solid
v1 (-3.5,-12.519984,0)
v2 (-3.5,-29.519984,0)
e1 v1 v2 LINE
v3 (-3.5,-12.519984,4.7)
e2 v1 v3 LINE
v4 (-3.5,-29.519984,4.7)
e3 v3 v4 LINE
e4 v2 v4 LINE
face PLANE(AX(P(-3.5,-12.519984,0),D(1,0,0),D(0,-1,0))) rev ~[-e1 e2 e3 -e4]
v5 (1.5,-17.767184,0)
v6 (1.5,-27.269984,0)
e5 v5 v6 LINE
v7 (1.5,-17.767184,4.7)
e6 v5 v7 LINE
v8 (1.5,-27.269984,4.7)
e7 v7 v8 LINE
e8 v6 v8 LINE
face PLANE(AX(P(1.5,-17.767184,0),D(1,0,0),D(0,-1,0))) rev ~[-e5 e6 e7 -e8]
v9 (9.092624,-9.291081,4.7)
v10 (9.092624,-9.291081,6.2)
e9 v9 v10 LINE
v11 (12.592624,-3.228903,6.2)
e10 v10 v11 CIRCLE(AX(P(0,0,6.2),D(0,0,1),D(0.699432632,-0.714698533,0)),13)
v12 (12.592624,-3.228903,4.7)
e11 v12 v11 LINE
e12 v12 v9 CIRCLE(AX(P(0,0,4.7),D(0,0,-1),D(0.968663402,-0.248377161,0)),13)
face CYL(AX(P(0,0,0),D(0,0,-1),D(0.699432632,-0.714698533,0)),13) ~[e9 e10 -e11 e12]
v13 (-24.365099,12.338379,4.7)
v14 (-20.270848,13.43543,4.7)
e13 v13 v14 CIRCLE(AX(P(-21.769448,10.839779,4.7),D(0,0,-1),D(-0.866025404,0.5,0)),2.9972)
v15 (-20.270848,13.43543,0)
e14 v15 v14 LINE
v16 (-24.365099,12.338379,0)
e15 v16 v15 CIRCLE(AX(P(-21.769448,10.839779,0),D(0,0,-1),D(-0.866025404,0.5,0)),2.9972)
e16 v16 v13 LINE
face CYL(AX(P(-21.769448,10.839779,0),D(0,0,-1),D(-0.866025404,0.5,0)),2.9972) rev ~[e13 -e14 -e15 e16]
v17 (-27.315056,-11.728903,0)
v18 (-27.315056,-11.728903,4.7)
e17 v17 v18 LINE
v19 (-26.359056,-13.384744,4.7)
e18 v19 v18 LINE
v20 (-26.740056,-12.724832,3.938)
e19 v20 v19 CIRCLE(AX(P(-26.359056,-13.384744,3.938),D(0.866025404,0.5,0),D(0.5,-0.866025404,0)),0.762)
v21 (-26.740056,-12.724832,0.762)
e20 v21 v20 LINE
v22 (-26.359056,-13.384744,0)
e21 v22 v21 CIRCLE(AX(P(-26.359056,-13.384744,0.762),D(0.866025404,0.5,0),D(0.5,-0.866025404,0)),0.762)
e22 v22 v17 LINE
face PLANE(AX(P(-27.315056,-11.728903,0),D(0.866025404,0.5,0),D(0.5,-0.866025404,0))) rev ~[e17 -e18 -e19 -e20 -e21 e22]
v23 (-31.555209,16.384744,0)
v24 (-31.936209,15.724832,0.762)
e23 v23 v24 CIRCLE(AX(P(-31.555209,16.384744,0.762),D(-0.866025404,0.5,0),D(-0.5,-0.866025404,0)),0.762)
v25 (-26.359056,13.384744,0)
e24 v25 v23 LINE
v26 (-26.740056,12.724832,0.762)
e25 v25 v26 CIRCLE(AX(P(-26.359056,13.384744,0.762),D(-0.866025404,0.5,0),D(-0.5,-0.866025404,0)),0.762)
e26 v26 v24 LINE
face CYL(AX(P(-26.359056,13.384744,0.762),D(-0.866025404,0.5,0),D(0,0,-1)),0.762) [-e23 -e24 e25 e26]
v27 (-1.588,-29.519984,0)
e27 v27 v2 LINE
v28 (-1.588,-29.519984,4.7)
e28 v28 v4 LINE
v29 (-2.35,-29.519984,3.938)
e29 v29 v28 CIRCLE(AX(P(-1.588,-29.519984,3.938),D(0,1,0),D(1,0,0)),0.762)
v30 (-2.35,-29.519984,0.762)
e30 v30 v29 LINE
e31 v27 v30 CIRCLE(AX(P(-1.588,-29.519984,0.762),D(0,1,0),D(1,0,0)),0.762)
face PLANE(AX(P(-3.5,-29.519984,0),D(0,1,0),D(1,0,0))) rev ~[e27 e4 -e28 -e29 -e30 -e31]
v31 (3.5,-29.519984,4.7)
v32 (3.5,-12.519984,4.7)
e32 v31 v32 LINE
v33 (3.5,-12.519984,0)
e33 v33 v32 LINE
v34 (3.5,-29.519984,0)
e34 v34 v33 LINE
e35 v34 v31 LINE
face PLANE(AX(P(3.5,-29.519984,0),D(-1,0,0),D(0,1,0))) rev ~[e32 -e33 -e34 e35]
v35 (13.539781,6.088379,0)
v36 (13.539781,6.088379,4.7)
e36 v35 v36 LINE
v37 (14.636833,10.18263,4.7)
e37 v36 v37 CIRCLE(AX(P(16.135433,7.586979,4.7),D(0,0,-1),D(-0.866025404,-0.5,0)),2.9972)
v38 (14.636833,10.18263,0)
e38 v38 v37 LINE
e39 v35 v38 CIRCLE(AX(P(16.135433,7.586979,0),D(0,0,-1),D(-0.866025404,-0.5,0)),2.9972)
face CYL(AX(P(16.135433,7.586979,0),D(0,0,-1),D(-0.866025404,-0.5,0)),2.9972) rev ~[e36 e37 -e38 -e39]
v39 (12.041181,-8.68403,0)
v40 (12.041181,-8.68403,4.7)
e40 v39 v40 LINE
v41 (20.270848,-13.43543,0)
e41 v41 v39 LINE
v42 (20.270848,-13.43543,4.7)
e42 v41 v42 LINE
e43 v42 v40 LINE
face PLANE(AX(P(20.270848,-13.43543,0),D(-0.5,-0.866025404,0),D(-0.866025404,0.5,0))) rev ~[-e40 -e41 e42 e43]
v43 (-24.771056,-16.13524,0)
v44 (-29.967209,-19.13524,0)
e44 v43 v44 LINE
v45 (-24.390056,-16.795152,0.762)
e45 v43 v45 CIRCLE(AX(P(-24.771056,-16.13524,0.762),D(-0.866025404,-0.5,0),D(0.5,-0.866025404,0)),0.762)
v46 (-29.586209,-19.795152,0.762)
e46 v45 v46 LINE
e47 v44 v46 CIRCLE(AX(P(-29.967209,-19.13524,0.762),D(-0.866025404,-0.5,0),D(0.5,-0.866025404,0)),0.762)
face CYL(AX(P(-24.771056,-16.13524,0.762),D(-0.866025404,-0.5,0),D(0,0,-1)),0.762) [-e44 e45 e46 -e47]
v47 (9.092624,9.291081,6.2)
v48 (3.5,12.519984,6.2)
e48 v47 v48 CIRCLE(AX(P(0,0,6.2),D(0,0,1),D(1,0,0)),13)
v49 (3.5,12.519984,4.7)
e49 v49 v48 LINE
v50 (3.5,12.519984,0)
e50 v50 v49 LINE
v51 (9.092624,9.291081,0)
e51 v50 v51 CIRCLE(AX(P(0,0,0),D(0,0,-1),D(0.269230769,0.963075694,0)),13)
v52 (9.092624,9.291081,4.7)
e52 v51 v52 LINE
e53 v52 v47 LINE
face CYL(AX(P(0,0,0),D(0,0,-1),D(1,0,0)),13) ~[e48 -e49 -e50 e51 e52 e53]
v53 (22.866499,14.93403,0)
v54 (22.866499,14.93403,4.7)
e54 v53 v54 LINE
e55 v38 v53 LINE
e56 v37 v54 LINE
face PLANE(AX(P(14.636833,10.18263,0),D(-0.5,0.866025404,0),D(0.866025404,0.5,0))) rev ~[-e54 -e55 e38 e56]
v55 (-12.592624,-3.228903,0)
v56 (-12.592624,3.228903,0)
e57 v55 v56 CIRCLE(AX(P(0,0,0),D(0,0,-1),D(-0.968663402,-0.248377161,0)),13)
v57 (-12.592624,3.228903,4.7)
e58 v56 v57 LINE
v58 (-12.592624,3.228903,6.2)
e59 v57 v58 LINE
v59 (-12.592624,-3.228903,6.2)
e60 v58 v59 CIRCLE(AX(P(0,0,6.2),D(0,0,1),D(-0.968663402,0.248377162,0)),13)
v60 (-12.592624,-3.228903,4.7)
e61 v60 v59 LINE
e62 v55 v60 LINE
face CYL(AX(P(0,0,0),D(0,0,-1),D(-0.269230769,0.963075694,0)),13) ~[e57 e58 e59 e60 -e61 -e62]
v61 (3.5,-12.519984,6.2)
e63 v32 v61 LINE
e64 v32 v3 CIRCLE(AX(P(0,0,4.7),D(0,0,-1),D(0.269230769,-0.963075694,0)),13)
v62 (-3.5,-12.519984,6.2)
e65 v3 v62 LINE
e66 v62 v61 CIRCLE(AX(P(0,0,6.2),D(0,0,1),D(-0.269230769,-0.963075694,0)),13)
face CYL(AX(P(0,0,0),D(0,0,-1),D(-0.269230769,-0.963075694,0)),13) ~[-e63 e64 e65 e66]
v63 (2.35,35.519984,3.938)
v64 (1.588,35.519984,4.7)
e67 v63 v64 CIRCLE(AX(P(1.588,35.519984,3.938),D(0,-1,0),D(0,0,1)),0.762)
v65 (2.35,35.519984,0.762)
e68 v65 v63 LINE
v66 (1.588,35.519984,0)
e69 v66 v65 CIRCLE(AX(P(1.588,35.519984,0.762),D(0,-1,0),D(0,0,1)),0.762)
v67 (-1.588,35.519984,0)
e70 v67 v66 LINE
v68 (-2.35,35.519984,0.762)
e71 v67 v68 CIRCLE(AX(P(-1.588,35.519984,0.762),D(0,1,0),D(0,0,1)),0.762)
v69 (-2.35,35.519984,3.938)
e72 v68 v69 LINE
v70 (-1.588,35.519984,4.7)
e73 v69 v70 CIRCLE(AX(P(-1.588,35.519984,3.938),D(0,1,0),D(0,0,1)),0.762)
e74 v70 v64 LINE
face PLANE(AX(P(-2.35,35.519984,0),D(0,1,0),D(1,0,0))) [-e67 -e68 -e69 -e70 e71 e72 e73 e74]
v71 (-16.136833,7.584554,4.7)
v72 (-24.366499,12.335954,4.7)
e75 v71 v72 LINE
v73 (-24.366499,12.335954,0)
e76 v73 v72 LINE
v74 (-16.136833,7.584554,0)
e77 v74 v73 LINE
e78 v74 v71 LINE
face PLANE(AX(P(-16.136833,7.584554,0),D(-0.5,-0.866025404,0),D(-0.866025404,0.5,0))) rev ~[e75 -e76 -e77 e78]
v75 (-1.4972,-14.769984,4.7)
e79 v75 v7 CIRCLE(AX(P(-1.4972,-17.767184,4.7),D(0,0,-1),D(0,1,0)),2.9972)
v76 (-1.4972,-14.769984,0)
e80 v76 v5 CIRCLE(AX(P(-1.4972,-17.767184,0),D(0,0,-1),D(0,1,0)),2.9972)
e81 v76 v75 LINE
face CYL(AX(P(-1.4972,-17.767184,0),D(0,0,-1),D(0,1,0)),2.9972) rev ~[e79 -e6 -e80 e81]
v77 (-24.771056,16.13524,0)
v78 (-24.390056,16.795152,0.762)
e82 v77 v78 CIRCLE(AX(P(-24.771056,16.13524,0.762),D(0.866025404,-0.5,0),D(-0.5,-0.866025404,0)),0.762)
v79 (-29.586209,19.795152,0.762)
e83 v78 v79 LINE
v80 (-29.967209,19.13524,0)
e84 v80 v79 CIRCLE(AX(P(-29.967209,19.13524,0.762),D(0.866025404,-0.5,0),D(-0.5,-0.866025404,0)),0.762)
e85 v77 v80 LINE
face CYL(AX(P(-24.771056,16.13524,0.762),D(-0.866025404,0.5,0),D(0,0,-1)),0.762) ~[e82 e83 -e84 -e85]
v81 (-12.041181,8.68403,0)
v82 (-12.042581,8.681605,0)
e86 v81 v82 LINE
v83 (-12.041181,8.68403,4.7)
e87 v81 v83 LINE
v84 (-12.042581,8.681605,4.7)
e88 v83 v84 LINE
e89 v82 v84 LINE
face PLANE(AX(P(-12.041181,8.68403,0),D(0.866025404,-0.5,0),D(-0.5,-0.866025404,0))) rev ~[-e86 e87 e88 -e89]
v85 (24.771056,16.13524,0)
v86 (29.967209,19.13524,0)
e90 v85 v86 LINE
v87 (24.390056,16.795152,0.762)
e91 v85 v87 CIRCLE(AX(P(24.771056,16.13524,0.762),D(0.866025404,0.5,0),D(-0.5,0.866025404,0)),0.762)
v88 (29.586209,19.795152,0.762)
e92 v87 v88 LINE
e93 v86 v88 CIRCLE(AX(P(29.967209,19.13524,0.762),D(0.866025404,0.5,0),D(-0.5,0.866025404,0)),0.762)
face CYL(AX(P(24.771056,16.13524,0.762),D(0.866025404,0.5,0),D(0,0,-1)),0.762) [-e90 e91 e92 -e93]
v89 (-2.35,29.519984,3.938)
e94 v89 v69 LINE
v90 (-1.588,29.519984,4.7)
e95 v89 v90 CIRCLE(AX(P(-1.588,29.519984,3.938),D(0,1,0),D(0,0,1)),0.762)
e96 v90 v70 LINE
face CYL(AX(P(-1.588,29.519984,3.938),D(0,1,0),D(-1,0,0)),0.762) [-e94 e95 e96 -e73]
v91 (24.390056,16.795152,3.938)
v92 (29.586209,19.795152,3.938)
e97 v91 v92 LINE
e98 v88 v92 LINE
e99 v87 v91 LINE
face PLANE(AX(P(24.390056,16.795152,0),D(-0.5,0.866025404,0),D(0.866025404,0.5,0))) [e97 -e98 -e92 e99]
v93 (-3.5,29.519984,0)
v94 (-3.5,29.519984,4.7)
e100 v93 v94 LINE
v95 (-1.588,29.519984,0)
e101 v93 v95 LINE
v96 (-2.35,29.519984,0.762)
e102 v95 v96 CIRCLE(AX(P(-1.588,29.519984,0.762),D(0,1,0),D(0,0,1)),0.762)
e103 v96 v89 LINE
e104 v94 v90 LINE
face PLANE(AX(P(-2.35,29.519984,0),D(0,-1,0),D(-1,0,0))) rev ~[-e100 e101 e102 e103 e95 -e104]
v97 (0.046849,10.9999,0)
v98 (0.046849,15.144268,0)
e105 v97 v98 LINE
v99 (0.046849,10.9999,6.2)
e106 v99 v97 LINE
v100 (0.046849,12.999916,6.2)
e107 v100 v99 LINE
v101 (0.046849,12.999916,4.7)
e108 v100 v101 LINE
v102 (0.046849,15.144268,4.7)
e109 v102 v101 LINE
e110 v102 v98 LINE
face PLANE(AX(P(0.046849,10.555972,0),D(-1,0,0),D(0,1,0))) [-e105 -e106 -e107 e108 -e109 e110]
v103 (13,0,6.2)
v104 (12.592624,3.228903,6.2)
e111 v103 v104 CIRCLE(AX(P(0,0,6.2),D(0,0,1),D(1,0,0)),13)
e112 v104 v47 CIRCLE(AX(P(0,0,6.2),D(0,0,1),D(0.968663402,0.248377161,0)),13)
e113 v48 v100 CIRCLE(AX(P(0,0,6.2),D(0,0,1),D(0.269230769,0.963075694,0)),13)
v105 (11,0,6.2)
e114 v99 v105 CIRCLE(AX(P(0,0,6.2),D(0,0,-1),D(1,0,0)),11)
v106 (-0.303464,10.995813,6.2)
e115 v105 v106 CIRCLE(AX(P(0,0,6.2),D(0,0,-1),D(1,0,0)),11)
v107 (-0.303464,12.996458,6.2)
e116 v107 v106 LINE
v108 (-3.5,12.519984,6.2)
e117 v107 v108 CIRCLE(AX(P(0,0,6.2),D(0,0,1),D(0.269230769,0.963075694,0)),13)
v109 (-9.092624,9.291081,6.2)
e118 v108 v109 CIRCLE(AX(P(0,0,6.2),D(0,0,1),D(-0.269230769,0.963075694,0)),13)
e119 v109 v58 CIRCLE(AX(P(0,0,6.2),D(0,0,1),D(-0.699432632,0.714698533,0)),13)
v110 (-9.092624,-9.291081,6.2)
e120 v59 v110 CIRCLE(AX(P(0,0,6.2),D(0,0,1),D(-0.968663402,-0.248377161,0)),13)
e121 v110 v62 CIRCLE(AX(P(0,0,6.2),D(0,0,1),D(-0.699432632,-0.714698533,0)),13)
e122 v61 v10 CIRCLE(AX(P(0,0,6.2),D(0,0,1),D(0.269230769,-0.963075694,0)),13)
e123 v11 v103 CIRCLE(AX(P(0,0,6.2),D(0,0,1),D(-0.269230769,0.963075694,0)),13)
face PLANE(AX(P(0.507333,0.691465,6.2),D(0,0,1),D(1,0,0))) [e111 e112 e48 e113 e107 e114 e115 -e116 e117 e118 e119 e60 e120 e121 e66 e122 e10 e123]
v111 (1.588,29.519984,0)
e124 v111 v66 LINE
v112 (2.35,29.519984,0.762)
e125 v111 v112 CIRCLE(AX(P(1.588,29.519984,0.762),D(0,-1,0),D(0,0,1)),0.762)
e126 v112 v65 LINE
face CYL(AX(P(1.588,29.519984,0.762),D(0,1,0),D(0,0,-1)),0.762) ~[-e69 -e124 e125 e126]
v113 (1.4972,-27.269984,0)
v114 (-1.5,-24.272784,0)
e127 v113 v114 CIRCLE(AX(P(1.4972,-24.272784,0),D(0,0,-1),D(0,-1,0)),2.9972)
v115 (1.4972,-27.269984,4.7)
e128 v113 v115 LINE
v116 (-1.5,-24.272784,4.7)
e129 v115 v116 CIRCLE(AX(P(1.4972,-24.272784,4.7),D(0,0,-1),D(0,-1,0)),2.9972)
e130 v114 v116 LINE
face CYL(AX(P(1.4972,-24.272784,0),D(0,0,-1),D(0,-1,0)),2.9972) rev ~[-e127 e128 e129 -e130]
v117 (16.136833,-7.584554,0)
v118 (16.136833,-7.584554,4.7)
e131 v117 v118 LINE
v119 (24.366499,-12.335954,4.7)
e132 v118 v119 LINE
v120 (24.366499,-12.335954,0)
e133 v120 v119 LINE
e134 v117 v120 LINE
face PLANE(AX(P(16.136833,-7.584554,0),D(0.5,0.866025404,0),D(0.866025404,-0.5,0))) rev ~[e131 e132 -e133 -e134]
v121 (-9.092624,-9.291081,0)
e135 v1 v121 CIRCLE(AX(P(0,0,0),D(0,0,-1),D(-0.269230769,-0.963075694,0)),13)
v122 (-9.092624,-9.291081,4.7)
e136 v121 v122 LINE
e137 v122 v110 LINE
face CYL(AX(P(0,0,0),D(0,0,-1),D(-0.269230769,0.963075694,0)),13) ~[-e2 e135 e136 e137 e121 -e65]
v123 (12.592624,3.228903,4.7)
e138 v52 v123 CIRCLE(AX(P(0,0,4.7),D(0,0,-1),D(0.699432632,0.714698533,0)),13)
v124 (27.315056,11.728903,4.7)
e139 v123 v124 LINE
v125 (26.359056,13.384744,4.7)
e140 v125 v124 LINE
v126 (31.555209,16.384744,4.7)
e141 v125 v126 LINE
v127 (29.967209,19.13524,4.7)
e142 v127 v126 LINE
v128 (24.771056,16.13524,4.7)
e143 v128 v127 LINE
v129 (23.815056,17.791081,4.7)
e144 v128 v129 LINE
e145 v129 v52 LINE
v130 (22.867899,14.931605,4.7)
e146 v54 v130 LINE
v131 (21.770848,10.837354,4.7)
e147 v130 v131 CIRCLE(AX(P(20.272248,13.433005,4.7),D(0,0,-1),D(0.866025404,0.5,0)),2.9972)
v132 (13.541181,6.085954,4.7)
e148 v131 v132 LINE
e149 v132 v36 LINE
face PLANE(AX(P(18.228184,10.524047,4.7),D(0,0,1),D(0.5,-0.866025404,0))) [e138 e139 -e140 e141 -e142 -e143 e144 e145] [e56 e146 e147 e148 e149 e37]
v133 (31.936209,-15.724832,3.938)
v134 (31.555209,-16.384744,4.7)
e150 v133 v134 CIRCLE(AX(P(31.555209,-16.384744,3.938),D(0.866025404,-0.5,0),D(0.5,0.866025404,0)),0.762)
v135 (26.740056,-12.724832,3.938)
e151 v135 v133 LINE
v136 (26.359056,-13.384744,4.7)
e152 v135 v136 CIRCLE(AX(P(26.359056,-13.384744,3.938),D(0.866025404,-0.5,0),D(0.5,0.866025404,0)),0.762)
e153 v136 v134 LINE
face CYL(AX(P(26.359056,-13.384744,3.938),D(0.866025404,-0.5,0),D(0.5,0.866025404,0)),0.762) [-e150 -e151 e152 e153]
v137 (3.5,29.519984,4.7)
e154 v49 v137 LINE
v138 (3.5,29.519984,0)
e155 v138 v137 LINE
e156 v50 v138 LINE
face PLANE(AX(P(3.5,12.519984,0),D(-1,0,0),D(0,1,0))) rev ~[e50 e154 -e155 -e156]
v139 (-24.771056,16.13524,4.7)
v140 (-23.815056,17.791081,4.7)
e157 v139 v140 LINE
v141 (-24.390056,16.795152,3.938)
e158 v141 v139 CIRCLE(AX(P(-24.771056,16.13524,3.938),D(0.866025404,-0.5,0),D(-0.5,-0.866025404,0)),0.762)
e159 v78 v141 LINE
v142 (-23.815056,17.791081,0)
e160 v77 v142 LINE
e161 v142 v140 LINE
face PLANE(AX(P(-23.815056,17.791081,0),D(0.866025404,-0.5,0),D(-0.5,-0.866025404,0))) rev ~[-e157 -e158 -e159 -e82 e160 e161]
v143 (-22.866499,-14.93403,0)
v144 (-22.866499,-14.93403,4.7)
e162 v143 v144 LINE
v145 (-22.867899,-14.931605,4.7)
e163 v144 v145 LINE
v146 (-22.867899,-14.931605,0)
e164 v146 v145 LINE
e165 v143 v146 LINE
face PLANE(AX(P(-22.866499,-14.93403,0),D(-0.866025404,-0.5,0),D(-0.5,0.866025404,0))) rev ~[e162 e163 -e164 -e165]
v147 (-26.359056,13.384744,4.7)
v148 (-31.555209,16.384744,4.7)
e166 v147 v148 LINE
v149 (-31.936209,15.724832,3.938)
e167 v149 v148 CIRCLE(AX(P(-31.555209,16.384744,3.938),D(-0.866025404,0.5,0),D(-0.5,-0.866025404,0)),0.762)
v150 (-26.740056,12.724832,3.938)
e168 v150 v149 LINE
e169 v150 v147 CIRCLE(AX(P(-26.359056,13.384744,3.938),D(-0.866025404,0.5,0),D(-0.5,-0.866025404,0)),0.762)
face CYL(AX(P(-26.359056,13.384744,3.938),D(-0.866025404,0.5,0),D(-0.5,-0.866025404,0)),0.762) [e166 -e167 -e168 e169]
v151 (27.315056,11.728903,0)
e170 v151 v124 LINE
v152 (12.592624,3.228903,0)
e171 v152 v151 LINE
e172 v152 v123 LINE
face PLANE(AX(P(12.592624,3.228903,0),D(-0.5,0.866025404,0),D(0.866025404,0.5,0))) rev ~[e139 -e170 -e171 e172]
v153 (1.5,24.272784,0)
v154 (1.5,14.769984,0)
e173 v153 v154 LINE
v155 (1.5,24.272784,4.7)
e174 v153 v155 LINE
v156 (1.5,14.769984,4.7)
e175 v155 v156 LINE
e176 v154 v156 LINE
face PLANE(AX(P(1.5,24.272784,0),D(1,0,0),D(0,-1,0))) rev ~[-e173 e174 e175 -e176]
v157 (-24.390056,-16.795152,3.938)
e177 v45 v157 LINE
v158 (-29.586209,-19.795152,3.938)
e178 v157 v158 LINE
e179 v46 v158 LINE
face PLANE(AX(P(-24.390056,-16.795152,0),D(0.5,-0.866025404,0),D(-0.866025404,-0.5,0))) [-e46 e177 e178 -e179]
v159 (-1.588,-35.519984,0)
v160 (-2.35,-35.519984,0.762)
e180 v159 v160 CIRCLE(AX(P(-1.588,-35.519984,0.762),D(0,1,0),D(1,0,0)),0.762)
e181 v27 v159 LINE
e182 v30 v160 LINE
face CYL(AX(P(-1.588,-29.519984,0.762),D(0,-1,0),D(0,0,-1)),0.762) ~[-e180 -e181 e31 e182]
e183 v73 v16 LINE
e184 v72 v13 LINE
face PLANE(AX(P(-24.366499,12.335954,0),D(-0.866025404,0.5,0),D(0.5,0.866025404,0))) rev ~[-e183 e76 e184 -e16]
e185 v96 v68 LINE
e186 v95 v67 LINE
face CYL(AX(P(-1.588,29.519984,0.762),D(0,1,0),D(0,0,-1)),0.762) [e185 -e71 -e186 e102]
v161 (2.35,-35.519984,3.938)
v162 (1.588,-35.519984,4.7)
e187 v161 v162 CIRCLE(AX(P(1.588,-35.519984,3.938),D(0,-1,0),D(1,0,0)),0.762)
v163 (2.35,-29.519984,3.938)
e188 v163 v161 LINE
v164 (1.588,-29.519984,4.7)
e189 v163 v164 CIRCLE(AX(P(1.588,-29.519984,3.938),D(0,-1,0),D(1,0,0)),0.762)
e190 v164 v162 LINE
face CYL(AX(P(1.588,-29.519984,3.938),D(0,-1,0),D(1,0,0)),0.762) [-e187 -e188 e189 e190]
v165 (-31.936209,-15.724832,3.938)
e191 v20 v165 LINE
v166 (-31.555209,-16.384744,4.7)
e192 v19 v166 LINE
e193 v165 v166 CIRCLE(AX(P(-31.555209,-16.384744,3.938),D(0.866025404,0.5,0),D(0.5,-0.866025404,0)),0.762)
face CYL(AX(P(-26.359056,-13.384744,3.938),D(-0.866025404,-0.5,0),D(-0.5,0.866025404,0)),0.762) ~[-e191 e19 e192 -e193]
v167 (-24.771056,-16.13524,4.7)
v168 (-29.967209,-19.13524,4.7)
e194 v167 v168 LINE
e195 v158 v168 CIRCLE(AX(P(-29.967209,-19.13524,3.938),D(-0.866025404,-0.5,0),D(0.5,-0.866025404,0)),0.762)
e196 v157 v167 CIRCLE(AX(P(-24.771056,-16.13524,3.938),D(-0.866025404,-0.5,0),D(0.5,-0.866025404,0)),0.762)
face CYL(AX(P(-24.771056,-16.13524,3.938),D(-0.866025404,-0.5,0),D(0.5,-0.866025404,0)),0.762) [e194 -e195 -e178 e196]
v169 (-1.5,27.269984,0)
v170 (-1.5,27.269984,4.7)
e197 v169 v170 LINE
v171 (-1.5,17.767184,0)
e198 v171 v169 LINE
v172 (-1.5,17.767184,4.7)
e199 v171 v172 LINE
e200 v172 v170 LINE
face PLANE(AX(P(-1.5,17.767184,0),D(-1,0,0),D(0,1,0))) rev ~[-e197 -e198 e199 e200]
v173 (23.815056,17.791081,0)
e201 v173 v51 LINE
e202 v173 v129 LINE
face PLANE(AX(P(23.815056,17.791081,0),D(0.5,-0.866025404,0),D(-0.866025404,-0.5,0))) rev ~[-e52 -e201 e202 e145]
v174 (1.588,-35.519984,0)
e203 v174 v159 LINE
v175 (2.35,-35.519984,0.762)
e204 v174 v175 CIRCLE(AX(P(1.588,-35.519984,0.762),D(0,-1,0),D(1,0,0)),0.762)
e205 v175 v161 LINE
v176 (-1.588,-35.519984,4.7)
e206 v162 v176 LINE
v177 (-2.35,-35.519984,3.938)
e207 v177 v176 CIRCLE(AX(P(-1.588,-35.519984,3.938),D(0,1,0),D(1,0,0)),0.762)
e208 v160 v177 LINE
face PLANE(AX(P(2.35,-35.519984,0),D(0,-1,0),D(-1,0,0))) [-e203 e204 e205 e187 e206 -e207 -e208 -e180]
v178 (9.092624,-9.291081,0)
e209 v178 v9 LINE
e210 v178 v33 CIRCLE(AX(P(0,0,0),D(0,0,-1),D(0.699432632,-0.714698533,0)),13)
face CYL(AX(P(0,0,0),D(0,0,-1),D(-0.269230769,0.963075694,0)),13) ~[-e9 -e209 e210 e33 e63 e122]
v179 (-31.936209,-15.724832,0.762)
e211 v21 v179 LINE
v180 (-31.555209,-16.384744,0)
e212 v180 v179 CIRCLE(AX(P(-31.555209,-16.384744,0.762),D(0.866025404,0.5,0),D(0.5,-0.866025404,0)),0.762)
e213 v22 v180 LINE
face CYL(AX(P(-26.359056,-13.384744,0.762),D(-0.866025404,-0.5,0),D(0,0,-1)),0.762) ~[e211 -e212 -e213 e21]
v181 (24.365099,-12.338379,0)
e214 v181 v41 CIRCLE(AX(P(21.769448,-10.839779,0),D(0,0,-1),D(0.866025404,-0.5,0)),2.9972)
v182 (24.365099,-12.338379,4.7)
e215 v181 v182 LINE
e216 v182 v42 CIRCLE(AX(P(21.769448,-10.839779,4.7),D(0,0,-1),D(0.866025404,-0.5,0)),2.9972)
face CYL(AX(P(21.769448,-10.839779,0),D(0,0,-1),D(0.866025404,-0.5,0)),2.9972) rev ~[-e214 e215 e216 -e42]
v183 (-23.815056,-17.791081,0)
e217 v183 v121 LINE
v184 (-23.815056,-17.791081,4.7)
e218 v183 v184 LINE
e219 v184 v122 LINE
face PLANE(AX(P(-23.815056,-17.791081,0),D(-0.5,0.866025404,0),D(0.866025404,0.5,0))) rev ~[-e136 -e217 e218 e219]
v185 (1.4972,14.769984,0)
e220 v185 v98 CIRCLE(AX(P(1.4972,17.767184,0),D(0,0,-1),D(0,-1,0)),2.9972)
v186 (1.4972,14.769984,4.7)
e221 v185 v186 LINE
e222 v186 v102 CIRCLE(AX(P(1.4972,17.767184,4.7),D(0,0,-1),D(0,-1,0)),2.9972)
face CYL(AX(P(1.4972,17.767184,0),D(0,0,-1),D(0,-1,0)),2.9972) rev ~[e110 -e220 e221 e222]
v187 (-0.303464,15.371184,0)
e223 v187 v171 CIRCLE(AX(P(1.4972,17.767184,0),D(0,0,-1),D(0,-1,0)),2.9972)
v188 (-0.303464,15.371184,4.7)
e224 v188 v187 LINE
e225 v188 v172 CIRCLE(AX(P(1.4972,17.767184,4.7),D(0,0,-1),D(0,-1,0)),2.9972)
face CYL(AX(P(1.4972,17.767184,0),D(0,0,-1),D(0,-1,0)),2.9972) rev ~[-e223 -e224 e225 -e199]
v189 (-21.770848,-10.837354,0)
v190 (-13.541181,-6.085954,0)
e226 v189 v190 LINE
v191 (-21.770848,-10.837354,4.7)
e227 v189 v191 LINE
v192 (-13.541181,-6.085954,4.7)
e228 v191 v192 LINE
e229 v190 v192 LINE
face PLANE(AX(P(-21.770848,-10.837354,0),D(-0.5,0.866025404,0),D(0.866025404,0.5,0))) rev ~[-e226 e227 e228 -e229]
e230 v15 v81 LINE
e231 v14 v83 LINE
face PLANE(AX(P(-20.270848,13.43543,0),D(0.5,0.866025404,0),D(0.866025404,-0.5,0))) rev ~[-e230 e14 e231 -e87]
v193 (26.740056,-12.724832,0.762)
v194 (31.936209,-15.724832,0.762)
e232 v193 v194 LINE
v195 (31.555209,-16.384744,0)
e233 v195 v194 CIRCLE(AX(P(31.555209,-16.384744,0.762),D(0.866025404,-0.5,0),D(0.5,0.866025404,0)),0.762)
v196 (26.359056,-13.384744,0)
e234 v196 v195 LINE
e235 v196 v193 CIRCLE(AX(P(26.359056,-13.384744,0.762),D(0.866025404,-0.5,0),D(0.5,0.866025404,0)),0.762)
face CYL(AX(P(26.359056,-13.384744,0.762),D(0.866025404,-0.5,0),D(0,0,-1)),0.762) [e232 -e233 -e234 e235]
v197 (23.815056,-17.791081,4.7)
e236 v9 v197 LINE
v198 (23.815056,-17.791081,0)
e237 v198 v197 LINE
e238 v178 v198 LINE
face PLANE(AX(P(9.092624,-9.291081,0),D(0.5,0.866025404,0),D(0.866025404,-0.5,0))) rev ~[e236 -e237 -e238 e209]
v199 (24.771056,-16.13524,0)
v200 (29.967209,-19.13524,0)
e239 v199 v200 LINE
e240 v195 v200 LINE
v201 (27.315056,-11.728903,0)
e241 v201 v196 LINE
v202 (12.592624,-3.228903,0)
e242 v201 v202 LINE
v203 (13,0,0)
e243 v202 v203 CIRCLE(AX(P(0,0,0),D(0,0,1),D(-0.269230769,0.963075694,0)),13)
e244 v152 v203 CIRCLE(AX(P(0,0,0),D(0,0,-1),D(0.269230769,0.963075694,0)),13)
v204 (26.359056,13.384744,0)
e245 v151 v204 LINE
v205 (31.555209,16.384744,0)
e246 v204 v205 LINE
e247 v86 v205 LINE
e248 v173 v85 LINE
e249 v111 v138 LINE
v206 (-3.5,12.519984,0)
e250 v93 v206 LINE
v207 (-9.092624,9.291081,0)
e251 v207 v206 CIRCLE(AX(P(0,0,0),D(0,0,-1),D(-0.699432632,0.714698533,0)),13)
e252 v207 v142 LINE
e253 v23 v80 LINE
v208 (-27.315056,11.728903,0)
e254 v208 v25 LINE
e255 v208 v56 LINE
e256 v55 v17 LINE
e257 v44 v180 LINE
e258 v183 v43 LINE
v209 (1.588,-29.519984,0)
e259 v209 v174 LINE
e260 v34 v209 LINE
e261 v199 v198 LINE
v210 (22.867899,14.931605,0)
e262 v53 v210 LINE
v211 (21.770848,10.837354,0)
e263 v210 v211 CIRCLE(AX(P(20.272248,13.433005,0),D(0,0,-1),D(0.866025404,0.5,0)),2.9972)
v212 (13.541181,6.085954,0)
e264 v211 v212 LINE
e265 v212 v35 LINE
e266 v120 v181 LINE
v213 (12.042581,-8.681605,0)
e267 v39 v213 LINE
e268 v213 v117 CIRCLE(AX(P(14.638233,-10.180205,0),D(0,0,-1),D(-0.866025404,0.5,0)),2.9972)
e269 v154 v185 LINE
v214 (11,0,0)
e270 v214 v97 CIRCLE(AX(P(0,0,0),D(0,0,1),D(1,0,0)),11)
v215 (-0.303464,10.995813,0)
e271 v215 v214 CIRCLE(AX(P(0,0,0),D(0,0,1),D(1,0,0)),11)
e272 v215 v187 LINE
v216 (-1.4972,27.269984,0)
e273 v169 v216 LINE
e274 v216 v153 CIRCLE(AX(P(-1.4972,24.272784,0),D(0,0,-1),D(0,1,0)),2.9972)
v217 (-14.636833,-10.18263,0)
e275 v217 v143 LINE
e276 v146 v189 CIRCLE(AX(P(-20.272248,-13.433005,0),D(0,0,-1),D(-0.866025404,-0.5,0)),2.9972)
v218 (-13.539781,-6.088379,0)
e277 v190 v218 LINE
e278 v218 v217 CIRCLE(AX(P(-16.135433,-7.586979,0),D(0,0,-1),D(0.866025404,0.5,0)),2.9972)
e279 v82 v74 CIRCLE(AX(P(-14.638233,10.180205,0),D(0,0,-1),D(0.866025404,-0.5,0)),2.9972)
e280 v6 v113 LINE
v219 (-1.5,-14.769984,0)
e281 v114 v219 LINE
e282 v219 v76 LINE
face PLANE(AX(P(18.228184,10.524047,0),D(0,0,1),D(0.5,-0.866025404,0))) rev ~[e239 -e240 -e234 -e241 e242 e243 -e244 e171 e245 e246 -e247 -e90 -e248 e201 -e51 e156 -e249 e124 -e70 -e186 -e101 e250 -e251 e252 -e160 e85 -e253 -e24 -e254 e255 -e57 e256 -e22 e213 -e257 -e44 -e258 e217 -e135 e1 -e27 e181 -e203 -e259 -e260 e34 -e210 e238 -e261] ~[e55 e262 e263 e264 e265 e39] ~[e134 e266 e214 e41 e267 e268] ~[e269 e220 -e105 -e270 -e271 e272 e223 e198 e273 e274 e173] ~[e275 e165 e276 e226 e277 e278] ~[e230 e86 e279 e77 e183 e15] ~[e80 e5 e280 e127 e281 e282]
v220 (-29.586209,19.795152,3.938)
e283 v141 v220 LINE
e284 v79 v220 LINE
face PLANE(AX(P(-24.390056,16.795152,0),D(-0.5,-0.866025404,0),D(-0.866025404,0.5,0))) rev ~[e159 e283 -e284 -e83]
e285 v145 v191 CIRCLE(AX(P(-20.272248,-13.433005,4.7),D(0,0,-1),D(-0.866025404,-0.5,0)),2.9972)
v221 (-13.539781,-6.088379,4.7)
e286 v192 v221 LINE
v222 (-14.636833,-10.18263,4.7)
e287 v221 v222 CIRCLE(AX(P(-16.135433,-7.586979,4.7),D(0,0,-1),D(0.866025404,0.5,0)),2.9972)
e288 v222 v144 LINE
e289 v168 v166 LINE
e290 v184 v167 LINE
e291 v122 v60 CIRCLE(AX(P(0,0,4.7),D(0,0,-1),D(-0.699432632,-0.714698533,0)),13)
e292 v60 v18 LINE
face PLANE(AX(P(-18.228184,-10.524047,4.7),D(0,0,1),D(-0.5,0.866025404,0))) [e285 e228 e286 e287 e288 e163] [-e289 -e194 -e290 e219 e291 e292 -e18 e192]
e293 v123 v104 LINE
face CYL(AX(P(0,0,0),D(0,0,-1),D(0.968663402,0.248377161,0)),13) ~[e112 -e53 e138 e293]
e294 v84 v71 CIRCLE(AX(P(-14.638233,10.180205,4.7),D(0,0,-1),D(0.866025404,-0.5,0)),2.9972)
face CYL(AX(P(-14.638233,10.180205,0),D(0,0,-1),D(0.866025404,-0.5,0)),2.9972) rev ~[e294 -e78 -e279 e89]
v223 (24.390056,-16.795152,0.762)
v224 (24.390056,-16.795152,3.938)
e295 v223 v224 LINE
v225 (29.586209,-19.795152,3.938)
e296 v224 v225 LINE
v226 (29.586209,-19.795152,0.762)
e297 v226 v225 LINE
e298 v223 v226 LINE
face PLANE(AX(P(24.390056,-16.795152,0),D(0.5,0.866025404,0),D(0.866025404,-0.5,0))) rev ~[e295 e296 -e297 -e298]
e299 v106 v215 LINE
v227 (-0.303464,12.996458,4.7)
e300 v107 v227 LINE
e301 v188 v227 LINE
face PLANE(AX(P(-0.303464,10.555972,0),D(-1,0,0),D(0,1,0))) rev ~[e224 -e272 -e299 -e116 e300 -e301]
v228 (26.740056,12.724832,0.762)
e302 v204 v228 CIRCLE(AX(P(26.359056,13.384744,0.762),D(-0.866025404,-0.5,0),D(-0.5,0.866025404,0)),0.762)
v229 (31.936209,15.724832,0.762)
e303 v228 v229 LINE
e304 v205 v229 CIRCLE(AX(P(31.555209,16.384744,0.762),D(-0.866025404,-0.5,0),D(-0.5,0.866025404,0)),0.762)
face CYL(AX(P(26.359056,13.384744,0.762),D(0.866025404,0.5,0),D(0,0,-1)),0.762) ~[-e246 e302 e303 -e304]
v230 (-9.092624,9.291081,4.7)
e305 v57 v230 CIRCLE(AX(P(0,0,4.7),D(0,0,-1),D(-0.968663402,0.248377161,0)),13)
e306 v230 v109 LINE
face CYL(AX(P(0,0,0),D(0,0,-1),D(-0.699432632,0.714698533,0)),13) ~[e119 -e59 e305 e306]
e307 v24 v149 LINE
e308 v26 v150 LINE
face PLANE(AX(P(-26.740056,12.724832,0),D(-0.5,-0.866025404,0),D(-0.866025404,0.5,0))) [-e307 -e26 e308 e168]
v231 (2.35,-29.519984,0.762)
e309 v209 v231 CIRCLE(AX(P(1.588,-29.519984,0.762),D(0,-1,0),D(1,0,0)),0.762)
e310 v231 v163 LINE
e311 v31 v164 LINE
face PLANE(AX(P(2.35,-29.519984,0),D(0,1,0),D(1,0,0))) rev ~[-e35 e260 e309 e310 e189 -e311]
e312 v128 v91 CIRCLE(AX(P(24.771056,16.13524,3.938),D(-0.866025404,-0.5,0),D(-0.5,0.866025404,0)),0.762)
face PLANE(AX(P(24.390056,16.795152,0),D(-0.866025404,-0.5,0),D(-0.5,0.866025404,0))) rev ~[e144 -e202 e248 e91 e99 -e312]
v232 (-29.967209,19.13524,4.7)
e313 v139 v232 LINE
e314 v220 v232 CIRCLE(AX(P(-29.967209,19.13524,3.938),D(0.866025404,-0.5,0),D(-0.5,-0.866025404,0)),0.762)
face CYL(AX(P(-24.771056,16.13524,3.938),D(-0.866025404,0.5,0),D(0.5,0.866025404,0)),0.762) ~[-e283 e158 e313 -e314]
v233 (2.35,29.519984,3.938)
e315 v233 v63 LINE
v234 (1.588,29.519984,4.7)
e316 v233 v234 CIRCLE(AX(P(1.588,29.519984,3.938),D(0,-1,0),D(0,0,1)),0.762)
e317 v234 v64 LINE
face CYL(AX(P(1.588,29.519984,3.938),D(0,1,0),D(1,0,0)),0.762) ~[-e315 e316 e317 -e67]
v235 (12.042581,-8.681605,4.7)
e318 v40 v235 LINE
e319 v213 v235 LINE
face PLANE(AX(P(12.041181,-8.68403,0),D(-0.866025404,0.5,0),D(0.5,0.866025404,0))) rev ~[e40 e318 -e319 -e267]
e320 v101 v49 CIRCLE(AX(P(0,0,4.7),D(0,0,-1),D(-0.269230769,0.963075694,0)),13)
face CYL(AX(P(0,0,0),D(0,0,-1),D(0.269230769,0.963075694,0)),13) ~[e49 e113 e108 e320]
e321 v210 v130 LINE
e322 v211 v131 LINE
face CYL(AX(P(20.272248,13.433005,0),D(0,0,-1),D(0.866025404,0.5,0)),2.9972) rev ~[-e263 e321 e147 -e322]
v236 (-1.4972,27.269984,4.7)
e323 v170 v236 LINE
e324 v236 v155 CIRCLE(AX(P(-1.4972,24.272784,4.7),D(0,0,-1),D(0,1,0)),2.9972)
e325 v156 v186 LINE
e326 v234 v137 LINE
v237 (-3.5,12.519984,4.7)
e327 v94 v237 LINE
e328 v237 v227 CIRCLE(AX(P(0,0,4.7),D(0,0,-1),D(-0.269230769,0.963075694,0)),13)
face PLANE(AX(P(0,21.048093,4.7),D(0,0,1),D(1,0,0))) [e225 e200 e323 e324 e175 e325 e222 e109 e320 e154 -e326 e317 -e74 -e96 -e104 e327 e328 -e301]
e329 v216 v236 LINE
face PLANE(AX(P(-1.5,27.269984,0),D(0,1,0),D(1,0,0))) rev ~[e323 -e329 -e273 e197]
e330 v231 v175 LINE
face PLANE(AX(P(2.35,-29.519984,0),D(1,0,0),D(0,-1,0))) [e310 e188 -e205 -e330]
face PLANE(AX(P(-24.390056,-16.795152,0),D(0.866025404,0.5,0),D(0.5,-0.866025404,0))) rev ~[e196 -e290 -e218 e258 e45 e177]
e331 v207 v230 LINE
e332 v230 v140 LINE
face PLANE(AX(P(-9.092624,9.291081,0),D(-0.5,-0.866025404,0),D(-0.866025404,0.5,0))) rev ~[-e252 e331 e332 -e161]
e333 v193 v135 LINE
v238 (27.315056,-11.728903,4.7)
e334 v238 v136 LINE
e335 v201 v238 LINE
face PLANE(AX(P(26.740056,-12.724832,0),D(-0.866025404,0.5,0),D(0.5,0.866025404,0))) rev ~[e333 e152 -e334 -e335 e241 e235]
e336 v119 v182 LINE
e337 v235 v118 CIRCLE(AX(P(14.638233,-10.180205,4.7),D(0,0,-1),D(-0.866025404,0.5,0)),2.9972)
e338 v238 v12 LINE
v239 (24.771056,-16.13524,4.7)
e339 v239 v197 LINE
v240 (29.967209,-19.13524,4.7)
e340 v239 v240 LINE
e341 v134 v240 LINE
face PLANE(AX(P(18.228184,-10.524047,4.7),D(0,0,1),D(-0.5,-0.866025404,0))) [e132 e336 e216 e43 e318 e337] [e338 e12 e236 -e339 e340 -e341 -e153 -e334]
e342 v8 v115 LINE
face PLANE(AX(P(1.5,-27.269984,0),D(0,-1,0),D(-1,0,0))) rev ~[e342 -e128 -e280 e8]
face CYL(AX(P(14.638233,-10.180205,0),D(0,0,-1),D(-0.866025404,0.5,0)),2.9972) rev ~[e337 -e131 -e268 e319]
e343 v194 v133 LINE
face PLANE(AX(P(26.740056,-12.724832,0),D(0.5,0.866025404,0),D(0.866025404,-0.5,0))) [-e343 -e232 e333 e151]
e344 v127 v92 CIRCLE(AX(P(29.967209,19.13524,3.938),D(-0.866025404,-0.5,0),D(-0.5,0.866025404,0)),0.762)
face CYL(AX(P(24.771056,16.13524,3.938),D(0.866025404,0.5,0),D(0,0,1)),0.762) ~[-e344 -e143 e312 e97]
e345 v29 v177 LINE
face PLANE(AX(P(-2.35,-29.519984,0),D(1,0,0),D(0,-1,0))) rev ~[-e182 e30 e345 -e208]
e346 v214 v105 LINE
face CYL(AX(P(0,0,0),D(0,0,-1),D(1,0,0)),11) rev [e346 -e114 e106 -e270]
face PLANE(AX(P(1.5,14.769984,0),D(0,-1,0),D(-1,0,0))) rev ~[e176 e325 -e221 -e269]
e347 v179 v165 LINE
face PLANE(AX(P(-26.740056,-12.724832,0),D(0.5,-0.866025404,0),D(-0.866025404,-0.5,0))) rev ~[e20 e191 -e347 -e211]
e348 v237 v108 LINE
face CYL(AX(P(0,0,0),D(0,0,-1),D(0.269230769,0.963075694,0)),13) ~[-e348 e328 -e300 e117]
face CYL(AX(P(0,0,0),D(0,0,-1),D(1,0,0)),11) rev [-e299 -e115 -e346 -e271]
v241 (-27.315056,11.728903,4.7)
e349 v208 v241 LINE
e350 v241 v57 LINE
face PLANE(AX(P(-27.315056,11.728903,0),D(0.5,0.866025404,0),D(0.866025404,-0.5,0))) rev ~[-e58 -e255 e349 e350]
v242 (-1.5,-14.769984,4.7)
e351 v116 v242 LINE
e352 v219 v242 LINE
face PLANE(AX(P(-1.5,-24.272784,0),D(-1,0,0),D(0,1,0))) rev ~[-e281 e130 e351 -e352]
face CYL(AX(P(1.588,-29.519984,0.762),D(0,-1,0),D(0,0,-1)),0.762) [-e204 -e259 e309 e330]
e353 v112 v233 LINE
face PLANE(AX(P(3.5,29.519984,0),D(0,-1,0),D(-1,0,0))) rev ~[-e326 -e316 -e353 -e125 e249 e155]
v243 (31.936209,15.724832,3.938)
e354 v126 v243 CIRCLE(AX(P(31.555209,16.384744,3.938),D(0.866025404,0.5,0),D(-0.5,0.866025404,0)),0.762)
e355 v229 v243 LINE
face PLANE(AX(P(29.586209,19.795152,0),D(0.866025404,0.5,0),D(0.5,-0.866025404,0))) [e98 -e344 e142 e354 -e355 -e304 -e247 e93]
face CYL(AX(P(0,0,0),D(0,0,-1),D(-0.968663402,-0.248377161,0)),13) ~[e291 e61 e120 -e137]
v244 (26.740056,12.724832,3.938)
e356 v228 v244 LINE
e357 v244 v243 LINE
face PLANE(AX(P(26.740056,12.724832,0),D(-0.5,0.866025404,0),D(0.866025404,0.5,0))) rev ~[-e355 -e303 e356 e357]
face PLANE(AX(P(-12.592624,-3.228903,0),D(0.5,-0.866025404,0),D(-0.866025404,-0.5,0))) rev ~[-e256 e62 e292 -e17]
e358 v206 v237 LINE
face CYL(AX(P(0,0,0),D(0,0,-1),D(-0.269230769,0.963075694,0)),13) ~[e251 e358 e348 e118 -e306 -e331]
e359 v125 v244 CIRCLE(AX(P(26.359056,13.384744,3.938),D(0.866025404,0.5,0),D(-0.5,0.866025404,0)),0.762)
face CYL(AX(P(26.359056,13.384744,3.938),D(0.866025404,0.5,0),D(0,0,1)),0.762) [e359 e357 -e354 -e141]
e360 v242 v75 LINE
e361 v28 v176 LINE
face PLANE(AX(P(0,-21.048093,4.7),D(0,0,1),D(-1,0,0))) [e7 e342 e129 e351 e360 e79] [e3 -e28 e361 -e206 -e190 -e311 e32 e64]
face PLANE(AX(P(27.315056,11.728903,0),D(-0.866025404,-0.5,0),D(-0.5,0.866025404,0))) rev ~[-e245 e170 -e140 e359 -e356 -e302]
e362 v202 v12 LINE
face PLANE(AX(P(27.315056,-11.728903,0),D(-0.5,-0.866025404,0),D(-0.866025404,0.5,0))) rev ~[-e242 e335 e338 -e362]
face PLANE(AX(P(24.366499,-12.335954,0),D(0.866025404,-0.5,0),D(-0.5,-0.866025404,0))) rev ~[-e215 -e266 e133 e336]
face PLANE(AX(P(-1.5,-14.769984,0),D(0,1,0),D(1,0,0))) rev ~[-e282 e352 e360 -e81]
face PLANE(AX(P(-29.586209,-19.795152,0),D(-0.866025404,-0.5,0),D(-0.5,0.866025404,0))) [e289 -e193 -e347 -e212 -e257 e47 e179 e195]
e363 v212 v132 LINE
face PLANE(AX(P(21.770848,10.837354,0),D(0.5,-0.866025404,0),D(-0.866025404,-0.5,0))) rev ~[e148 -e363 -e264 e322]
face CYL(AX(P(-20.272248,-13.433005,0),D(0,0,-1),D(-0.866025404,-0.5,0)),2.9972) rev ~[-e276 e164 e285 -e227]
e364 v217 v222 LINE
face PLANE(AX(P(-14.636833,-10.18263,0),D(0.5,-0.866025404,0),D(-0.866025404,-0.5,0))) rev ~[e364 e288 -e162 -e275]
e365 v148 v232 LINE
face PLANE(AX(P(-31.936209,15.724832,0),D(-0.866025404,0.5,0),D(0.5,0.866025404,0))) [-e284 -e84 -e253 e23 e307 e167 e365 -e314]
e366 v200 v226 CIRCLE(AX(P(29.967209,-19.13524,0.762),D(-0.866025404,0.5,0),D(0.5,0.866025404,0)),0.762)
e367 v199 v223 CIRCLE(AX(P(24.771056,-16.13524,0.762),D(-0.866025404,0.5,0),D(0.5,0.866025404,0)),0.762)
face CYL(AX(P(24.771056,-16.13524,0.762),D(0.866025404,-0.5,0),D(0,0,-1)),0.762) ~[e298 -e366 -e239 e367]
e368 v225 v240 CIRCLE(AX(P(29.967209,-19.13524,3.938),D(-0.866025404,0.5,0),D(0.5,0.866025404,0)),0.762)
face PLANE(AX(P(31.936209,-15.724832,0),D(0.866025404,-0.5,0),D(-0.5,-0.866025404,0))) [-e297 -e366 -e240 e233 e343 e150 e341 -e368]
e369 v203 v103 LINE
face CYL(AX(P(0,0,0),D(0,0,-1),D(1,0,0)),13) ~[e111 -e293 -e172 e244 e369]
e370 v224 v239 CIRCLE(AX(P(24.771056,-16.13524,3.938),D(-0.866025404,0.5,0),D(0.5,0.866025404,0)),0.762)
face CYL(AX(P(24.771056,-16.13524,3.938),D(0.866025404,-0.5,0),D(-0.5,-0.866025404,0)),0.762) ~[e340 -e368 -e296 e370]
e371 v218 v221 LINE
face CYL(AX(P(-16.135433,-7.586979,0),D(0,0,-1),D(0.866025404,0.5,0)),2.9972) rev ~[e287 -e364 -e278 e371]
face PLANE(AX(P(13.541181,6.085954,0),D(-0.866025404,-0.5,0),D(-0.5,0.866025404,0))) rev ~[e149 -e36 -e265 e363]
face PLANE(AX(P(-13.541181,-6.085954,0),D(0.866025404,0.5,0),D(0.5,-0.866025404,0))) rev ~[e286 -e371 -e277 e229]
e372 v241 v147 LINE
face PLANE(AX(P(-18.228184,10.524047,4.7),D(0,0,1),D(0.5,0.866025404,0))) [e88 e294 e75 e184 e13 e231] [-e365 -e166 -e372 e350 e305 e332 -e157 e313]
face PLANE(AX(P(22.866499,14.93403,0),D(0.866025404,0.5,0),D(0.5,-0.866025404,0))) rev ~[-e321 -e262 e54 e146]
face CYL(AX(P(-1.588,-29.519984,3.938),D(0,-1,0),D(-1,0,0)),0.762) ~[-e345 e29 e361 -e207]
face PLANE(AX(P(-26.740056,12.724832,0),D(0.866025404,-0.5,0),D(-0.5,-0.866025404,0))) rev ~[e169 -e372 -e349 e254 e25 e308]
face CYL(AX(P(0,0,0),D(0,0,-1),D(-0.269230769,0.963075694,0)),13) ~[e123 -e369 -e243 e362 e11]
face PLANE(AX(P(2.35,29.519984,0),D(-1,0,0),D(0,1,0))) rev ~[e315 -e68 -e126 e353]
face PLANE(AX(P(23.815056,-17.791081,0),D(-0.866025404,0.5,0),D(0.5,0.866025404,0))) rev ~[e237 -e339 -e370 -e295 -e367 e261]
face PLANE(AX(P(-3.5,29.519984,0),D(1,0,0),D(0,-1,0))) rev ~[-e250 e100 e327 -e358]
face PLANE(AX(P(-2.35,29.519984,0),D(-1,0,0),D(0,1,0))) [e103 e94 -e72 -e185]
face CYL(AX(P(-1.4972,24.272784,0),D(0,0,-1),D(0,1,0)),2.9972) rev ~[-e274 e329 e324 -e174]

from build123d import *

# Parameters (mm, degrees)
F0_R     = 11
F2_DEPTH = 6.2
F0_W     = 4.7
F0_H     = 6
F3_DEPTH = 4.7
F4_COUNT = 6
F1_W     = 0.3503125627
F1_H     = 4.9452893436
F5_DEPTH = 25.4
F6_R     = 0.762


with BuildPart() as f2:
    # F0 (on Top) → F2 (new body)
    with BuildSketch(Plane.XY):
        with BuildLine():
            ThreePointArc((-3.5, 12.5199840255), (-7.8581168228, -10.3561575886), (13, 0))
            ThreePointArc((13, 0), (10.3561575886, 7.8581168228), (3.5, 12.5199840255))
            ThreePointArc((3.5, 12.5199840255), (0, 13), (-3.5, 12.5199840255))
        make_face()
        Circle(F0_R, mode=Mode.SUBTRACT)
    extrude(amount=F2_DEPTH)

    # F0 (on Top) → F3 (join)
    with BuildSketch(Plane.XY):
        with BuildLine():
            ThreePointArc((-3.5, 12.5199840255), (0, 13), (3.5, 12.5199840255))
            Line((3.5, 12.5199840255), (3.5, 29.5199840255))
            Line((3.5, 29.5199840255), (2.35, 29.5199840255))
            Line((2.35, 29.5199840255), (-2.35, 29.5199840255))
            Line((-2.35, 29.5199840255), (-3.5, 29.5199840255))
            Line((-3.5, 29.5199840255), (-3.5, 12.5199840255))
        make_face()
        with BuildLine():
            Line((1.5, 24.2727840255), (1.5, 14.7699840255))
            Line((1.5, 14.7699840255), (1.4972, 14.7699840255))
            ThreePointArc((1.4972, 14.7699840255), (-0.6221404446, 15.647843581), (-1.5, 17.7671840255))
            Line((-1.5, 17.7671840255), (-1.5, 27.2699840255))
            Line((-1.5, 27.2699840255), (-1.4972, 27.2699840255))
            ThreePointArc((-1.4972, 27.2699840255), (0.6221404446, 26.3921244701), (1.5, 24.2727840255))
        make_face(mode=Mode.SUBTRACT)
        with Locations((0, 32.5199840255)):
            Rectangle(F0_W, F0_H)
    extrude(amount=F3_DEPTH)

    # F4: F2 ×6 about axis
    f4_axis = Axis((0, 0, 0), (0, 0, 1))


with BuildPart() as f2_1:
    add(f2.part)
    for i in range(1, F4_COUNT):
        add(f2.part.rotate(f4_axis, i * 360 / F4_COUNT))

    # F1 (on Top) → F5 (cut)
    with BuildSketch(Plane.XY):
        with Locations((-0.128307729, 13.028617017)):
            Rectangle(F1_W, F1_H)
    extrude(amount=F5_DEPTH, mode=Mode.SUBTRACT)

    # F6
    f6_edges = [f2_1.edges().sort_by_distance(p)[0] for p in [
        (-26.988132, -18.295152, 4.7),
        (-29.338132, -14.224832, 4.7),
        (-26.988132, -18.295152, 0),
        (-29.338132, -14.224832, 0),
        (-2.35, -32.519984, 0),
        (-2.35, -32.519984, 4.7),
        (2.35, -32.519984, 4.7),
        (2.35, -32.519984, 0),
        (26.988132, -18.295152, 4.7),
        (26.988132, -18.295152, 0),
        (29.338132, -14.224832, 4.7),
        (29.338132, -14.224832, 0),
        (29.338132, 14.224832, 4.7),
        (29.338132, 14.224832, 0),
        (26.988132, 18.295152, 4.7),
        (26.988132, 18.295152, 0),
        (2.35, 32.519984, 4.7),
        (2.35, 32.519984, 0),
        (-2.35, 32.519984, 4.7),
        (-2.35, 32.519984, 0),
        (-26.988132, 18.295152, 4.7),
        (-26.988132, 18.295152, 0),
        (-29.338132, 14.224832, 4.7),
        (-29.338132, 14.224832, 0),
    ]]
    fillet(f6_edges, radius=F6_R)


solid = f2_1.part
